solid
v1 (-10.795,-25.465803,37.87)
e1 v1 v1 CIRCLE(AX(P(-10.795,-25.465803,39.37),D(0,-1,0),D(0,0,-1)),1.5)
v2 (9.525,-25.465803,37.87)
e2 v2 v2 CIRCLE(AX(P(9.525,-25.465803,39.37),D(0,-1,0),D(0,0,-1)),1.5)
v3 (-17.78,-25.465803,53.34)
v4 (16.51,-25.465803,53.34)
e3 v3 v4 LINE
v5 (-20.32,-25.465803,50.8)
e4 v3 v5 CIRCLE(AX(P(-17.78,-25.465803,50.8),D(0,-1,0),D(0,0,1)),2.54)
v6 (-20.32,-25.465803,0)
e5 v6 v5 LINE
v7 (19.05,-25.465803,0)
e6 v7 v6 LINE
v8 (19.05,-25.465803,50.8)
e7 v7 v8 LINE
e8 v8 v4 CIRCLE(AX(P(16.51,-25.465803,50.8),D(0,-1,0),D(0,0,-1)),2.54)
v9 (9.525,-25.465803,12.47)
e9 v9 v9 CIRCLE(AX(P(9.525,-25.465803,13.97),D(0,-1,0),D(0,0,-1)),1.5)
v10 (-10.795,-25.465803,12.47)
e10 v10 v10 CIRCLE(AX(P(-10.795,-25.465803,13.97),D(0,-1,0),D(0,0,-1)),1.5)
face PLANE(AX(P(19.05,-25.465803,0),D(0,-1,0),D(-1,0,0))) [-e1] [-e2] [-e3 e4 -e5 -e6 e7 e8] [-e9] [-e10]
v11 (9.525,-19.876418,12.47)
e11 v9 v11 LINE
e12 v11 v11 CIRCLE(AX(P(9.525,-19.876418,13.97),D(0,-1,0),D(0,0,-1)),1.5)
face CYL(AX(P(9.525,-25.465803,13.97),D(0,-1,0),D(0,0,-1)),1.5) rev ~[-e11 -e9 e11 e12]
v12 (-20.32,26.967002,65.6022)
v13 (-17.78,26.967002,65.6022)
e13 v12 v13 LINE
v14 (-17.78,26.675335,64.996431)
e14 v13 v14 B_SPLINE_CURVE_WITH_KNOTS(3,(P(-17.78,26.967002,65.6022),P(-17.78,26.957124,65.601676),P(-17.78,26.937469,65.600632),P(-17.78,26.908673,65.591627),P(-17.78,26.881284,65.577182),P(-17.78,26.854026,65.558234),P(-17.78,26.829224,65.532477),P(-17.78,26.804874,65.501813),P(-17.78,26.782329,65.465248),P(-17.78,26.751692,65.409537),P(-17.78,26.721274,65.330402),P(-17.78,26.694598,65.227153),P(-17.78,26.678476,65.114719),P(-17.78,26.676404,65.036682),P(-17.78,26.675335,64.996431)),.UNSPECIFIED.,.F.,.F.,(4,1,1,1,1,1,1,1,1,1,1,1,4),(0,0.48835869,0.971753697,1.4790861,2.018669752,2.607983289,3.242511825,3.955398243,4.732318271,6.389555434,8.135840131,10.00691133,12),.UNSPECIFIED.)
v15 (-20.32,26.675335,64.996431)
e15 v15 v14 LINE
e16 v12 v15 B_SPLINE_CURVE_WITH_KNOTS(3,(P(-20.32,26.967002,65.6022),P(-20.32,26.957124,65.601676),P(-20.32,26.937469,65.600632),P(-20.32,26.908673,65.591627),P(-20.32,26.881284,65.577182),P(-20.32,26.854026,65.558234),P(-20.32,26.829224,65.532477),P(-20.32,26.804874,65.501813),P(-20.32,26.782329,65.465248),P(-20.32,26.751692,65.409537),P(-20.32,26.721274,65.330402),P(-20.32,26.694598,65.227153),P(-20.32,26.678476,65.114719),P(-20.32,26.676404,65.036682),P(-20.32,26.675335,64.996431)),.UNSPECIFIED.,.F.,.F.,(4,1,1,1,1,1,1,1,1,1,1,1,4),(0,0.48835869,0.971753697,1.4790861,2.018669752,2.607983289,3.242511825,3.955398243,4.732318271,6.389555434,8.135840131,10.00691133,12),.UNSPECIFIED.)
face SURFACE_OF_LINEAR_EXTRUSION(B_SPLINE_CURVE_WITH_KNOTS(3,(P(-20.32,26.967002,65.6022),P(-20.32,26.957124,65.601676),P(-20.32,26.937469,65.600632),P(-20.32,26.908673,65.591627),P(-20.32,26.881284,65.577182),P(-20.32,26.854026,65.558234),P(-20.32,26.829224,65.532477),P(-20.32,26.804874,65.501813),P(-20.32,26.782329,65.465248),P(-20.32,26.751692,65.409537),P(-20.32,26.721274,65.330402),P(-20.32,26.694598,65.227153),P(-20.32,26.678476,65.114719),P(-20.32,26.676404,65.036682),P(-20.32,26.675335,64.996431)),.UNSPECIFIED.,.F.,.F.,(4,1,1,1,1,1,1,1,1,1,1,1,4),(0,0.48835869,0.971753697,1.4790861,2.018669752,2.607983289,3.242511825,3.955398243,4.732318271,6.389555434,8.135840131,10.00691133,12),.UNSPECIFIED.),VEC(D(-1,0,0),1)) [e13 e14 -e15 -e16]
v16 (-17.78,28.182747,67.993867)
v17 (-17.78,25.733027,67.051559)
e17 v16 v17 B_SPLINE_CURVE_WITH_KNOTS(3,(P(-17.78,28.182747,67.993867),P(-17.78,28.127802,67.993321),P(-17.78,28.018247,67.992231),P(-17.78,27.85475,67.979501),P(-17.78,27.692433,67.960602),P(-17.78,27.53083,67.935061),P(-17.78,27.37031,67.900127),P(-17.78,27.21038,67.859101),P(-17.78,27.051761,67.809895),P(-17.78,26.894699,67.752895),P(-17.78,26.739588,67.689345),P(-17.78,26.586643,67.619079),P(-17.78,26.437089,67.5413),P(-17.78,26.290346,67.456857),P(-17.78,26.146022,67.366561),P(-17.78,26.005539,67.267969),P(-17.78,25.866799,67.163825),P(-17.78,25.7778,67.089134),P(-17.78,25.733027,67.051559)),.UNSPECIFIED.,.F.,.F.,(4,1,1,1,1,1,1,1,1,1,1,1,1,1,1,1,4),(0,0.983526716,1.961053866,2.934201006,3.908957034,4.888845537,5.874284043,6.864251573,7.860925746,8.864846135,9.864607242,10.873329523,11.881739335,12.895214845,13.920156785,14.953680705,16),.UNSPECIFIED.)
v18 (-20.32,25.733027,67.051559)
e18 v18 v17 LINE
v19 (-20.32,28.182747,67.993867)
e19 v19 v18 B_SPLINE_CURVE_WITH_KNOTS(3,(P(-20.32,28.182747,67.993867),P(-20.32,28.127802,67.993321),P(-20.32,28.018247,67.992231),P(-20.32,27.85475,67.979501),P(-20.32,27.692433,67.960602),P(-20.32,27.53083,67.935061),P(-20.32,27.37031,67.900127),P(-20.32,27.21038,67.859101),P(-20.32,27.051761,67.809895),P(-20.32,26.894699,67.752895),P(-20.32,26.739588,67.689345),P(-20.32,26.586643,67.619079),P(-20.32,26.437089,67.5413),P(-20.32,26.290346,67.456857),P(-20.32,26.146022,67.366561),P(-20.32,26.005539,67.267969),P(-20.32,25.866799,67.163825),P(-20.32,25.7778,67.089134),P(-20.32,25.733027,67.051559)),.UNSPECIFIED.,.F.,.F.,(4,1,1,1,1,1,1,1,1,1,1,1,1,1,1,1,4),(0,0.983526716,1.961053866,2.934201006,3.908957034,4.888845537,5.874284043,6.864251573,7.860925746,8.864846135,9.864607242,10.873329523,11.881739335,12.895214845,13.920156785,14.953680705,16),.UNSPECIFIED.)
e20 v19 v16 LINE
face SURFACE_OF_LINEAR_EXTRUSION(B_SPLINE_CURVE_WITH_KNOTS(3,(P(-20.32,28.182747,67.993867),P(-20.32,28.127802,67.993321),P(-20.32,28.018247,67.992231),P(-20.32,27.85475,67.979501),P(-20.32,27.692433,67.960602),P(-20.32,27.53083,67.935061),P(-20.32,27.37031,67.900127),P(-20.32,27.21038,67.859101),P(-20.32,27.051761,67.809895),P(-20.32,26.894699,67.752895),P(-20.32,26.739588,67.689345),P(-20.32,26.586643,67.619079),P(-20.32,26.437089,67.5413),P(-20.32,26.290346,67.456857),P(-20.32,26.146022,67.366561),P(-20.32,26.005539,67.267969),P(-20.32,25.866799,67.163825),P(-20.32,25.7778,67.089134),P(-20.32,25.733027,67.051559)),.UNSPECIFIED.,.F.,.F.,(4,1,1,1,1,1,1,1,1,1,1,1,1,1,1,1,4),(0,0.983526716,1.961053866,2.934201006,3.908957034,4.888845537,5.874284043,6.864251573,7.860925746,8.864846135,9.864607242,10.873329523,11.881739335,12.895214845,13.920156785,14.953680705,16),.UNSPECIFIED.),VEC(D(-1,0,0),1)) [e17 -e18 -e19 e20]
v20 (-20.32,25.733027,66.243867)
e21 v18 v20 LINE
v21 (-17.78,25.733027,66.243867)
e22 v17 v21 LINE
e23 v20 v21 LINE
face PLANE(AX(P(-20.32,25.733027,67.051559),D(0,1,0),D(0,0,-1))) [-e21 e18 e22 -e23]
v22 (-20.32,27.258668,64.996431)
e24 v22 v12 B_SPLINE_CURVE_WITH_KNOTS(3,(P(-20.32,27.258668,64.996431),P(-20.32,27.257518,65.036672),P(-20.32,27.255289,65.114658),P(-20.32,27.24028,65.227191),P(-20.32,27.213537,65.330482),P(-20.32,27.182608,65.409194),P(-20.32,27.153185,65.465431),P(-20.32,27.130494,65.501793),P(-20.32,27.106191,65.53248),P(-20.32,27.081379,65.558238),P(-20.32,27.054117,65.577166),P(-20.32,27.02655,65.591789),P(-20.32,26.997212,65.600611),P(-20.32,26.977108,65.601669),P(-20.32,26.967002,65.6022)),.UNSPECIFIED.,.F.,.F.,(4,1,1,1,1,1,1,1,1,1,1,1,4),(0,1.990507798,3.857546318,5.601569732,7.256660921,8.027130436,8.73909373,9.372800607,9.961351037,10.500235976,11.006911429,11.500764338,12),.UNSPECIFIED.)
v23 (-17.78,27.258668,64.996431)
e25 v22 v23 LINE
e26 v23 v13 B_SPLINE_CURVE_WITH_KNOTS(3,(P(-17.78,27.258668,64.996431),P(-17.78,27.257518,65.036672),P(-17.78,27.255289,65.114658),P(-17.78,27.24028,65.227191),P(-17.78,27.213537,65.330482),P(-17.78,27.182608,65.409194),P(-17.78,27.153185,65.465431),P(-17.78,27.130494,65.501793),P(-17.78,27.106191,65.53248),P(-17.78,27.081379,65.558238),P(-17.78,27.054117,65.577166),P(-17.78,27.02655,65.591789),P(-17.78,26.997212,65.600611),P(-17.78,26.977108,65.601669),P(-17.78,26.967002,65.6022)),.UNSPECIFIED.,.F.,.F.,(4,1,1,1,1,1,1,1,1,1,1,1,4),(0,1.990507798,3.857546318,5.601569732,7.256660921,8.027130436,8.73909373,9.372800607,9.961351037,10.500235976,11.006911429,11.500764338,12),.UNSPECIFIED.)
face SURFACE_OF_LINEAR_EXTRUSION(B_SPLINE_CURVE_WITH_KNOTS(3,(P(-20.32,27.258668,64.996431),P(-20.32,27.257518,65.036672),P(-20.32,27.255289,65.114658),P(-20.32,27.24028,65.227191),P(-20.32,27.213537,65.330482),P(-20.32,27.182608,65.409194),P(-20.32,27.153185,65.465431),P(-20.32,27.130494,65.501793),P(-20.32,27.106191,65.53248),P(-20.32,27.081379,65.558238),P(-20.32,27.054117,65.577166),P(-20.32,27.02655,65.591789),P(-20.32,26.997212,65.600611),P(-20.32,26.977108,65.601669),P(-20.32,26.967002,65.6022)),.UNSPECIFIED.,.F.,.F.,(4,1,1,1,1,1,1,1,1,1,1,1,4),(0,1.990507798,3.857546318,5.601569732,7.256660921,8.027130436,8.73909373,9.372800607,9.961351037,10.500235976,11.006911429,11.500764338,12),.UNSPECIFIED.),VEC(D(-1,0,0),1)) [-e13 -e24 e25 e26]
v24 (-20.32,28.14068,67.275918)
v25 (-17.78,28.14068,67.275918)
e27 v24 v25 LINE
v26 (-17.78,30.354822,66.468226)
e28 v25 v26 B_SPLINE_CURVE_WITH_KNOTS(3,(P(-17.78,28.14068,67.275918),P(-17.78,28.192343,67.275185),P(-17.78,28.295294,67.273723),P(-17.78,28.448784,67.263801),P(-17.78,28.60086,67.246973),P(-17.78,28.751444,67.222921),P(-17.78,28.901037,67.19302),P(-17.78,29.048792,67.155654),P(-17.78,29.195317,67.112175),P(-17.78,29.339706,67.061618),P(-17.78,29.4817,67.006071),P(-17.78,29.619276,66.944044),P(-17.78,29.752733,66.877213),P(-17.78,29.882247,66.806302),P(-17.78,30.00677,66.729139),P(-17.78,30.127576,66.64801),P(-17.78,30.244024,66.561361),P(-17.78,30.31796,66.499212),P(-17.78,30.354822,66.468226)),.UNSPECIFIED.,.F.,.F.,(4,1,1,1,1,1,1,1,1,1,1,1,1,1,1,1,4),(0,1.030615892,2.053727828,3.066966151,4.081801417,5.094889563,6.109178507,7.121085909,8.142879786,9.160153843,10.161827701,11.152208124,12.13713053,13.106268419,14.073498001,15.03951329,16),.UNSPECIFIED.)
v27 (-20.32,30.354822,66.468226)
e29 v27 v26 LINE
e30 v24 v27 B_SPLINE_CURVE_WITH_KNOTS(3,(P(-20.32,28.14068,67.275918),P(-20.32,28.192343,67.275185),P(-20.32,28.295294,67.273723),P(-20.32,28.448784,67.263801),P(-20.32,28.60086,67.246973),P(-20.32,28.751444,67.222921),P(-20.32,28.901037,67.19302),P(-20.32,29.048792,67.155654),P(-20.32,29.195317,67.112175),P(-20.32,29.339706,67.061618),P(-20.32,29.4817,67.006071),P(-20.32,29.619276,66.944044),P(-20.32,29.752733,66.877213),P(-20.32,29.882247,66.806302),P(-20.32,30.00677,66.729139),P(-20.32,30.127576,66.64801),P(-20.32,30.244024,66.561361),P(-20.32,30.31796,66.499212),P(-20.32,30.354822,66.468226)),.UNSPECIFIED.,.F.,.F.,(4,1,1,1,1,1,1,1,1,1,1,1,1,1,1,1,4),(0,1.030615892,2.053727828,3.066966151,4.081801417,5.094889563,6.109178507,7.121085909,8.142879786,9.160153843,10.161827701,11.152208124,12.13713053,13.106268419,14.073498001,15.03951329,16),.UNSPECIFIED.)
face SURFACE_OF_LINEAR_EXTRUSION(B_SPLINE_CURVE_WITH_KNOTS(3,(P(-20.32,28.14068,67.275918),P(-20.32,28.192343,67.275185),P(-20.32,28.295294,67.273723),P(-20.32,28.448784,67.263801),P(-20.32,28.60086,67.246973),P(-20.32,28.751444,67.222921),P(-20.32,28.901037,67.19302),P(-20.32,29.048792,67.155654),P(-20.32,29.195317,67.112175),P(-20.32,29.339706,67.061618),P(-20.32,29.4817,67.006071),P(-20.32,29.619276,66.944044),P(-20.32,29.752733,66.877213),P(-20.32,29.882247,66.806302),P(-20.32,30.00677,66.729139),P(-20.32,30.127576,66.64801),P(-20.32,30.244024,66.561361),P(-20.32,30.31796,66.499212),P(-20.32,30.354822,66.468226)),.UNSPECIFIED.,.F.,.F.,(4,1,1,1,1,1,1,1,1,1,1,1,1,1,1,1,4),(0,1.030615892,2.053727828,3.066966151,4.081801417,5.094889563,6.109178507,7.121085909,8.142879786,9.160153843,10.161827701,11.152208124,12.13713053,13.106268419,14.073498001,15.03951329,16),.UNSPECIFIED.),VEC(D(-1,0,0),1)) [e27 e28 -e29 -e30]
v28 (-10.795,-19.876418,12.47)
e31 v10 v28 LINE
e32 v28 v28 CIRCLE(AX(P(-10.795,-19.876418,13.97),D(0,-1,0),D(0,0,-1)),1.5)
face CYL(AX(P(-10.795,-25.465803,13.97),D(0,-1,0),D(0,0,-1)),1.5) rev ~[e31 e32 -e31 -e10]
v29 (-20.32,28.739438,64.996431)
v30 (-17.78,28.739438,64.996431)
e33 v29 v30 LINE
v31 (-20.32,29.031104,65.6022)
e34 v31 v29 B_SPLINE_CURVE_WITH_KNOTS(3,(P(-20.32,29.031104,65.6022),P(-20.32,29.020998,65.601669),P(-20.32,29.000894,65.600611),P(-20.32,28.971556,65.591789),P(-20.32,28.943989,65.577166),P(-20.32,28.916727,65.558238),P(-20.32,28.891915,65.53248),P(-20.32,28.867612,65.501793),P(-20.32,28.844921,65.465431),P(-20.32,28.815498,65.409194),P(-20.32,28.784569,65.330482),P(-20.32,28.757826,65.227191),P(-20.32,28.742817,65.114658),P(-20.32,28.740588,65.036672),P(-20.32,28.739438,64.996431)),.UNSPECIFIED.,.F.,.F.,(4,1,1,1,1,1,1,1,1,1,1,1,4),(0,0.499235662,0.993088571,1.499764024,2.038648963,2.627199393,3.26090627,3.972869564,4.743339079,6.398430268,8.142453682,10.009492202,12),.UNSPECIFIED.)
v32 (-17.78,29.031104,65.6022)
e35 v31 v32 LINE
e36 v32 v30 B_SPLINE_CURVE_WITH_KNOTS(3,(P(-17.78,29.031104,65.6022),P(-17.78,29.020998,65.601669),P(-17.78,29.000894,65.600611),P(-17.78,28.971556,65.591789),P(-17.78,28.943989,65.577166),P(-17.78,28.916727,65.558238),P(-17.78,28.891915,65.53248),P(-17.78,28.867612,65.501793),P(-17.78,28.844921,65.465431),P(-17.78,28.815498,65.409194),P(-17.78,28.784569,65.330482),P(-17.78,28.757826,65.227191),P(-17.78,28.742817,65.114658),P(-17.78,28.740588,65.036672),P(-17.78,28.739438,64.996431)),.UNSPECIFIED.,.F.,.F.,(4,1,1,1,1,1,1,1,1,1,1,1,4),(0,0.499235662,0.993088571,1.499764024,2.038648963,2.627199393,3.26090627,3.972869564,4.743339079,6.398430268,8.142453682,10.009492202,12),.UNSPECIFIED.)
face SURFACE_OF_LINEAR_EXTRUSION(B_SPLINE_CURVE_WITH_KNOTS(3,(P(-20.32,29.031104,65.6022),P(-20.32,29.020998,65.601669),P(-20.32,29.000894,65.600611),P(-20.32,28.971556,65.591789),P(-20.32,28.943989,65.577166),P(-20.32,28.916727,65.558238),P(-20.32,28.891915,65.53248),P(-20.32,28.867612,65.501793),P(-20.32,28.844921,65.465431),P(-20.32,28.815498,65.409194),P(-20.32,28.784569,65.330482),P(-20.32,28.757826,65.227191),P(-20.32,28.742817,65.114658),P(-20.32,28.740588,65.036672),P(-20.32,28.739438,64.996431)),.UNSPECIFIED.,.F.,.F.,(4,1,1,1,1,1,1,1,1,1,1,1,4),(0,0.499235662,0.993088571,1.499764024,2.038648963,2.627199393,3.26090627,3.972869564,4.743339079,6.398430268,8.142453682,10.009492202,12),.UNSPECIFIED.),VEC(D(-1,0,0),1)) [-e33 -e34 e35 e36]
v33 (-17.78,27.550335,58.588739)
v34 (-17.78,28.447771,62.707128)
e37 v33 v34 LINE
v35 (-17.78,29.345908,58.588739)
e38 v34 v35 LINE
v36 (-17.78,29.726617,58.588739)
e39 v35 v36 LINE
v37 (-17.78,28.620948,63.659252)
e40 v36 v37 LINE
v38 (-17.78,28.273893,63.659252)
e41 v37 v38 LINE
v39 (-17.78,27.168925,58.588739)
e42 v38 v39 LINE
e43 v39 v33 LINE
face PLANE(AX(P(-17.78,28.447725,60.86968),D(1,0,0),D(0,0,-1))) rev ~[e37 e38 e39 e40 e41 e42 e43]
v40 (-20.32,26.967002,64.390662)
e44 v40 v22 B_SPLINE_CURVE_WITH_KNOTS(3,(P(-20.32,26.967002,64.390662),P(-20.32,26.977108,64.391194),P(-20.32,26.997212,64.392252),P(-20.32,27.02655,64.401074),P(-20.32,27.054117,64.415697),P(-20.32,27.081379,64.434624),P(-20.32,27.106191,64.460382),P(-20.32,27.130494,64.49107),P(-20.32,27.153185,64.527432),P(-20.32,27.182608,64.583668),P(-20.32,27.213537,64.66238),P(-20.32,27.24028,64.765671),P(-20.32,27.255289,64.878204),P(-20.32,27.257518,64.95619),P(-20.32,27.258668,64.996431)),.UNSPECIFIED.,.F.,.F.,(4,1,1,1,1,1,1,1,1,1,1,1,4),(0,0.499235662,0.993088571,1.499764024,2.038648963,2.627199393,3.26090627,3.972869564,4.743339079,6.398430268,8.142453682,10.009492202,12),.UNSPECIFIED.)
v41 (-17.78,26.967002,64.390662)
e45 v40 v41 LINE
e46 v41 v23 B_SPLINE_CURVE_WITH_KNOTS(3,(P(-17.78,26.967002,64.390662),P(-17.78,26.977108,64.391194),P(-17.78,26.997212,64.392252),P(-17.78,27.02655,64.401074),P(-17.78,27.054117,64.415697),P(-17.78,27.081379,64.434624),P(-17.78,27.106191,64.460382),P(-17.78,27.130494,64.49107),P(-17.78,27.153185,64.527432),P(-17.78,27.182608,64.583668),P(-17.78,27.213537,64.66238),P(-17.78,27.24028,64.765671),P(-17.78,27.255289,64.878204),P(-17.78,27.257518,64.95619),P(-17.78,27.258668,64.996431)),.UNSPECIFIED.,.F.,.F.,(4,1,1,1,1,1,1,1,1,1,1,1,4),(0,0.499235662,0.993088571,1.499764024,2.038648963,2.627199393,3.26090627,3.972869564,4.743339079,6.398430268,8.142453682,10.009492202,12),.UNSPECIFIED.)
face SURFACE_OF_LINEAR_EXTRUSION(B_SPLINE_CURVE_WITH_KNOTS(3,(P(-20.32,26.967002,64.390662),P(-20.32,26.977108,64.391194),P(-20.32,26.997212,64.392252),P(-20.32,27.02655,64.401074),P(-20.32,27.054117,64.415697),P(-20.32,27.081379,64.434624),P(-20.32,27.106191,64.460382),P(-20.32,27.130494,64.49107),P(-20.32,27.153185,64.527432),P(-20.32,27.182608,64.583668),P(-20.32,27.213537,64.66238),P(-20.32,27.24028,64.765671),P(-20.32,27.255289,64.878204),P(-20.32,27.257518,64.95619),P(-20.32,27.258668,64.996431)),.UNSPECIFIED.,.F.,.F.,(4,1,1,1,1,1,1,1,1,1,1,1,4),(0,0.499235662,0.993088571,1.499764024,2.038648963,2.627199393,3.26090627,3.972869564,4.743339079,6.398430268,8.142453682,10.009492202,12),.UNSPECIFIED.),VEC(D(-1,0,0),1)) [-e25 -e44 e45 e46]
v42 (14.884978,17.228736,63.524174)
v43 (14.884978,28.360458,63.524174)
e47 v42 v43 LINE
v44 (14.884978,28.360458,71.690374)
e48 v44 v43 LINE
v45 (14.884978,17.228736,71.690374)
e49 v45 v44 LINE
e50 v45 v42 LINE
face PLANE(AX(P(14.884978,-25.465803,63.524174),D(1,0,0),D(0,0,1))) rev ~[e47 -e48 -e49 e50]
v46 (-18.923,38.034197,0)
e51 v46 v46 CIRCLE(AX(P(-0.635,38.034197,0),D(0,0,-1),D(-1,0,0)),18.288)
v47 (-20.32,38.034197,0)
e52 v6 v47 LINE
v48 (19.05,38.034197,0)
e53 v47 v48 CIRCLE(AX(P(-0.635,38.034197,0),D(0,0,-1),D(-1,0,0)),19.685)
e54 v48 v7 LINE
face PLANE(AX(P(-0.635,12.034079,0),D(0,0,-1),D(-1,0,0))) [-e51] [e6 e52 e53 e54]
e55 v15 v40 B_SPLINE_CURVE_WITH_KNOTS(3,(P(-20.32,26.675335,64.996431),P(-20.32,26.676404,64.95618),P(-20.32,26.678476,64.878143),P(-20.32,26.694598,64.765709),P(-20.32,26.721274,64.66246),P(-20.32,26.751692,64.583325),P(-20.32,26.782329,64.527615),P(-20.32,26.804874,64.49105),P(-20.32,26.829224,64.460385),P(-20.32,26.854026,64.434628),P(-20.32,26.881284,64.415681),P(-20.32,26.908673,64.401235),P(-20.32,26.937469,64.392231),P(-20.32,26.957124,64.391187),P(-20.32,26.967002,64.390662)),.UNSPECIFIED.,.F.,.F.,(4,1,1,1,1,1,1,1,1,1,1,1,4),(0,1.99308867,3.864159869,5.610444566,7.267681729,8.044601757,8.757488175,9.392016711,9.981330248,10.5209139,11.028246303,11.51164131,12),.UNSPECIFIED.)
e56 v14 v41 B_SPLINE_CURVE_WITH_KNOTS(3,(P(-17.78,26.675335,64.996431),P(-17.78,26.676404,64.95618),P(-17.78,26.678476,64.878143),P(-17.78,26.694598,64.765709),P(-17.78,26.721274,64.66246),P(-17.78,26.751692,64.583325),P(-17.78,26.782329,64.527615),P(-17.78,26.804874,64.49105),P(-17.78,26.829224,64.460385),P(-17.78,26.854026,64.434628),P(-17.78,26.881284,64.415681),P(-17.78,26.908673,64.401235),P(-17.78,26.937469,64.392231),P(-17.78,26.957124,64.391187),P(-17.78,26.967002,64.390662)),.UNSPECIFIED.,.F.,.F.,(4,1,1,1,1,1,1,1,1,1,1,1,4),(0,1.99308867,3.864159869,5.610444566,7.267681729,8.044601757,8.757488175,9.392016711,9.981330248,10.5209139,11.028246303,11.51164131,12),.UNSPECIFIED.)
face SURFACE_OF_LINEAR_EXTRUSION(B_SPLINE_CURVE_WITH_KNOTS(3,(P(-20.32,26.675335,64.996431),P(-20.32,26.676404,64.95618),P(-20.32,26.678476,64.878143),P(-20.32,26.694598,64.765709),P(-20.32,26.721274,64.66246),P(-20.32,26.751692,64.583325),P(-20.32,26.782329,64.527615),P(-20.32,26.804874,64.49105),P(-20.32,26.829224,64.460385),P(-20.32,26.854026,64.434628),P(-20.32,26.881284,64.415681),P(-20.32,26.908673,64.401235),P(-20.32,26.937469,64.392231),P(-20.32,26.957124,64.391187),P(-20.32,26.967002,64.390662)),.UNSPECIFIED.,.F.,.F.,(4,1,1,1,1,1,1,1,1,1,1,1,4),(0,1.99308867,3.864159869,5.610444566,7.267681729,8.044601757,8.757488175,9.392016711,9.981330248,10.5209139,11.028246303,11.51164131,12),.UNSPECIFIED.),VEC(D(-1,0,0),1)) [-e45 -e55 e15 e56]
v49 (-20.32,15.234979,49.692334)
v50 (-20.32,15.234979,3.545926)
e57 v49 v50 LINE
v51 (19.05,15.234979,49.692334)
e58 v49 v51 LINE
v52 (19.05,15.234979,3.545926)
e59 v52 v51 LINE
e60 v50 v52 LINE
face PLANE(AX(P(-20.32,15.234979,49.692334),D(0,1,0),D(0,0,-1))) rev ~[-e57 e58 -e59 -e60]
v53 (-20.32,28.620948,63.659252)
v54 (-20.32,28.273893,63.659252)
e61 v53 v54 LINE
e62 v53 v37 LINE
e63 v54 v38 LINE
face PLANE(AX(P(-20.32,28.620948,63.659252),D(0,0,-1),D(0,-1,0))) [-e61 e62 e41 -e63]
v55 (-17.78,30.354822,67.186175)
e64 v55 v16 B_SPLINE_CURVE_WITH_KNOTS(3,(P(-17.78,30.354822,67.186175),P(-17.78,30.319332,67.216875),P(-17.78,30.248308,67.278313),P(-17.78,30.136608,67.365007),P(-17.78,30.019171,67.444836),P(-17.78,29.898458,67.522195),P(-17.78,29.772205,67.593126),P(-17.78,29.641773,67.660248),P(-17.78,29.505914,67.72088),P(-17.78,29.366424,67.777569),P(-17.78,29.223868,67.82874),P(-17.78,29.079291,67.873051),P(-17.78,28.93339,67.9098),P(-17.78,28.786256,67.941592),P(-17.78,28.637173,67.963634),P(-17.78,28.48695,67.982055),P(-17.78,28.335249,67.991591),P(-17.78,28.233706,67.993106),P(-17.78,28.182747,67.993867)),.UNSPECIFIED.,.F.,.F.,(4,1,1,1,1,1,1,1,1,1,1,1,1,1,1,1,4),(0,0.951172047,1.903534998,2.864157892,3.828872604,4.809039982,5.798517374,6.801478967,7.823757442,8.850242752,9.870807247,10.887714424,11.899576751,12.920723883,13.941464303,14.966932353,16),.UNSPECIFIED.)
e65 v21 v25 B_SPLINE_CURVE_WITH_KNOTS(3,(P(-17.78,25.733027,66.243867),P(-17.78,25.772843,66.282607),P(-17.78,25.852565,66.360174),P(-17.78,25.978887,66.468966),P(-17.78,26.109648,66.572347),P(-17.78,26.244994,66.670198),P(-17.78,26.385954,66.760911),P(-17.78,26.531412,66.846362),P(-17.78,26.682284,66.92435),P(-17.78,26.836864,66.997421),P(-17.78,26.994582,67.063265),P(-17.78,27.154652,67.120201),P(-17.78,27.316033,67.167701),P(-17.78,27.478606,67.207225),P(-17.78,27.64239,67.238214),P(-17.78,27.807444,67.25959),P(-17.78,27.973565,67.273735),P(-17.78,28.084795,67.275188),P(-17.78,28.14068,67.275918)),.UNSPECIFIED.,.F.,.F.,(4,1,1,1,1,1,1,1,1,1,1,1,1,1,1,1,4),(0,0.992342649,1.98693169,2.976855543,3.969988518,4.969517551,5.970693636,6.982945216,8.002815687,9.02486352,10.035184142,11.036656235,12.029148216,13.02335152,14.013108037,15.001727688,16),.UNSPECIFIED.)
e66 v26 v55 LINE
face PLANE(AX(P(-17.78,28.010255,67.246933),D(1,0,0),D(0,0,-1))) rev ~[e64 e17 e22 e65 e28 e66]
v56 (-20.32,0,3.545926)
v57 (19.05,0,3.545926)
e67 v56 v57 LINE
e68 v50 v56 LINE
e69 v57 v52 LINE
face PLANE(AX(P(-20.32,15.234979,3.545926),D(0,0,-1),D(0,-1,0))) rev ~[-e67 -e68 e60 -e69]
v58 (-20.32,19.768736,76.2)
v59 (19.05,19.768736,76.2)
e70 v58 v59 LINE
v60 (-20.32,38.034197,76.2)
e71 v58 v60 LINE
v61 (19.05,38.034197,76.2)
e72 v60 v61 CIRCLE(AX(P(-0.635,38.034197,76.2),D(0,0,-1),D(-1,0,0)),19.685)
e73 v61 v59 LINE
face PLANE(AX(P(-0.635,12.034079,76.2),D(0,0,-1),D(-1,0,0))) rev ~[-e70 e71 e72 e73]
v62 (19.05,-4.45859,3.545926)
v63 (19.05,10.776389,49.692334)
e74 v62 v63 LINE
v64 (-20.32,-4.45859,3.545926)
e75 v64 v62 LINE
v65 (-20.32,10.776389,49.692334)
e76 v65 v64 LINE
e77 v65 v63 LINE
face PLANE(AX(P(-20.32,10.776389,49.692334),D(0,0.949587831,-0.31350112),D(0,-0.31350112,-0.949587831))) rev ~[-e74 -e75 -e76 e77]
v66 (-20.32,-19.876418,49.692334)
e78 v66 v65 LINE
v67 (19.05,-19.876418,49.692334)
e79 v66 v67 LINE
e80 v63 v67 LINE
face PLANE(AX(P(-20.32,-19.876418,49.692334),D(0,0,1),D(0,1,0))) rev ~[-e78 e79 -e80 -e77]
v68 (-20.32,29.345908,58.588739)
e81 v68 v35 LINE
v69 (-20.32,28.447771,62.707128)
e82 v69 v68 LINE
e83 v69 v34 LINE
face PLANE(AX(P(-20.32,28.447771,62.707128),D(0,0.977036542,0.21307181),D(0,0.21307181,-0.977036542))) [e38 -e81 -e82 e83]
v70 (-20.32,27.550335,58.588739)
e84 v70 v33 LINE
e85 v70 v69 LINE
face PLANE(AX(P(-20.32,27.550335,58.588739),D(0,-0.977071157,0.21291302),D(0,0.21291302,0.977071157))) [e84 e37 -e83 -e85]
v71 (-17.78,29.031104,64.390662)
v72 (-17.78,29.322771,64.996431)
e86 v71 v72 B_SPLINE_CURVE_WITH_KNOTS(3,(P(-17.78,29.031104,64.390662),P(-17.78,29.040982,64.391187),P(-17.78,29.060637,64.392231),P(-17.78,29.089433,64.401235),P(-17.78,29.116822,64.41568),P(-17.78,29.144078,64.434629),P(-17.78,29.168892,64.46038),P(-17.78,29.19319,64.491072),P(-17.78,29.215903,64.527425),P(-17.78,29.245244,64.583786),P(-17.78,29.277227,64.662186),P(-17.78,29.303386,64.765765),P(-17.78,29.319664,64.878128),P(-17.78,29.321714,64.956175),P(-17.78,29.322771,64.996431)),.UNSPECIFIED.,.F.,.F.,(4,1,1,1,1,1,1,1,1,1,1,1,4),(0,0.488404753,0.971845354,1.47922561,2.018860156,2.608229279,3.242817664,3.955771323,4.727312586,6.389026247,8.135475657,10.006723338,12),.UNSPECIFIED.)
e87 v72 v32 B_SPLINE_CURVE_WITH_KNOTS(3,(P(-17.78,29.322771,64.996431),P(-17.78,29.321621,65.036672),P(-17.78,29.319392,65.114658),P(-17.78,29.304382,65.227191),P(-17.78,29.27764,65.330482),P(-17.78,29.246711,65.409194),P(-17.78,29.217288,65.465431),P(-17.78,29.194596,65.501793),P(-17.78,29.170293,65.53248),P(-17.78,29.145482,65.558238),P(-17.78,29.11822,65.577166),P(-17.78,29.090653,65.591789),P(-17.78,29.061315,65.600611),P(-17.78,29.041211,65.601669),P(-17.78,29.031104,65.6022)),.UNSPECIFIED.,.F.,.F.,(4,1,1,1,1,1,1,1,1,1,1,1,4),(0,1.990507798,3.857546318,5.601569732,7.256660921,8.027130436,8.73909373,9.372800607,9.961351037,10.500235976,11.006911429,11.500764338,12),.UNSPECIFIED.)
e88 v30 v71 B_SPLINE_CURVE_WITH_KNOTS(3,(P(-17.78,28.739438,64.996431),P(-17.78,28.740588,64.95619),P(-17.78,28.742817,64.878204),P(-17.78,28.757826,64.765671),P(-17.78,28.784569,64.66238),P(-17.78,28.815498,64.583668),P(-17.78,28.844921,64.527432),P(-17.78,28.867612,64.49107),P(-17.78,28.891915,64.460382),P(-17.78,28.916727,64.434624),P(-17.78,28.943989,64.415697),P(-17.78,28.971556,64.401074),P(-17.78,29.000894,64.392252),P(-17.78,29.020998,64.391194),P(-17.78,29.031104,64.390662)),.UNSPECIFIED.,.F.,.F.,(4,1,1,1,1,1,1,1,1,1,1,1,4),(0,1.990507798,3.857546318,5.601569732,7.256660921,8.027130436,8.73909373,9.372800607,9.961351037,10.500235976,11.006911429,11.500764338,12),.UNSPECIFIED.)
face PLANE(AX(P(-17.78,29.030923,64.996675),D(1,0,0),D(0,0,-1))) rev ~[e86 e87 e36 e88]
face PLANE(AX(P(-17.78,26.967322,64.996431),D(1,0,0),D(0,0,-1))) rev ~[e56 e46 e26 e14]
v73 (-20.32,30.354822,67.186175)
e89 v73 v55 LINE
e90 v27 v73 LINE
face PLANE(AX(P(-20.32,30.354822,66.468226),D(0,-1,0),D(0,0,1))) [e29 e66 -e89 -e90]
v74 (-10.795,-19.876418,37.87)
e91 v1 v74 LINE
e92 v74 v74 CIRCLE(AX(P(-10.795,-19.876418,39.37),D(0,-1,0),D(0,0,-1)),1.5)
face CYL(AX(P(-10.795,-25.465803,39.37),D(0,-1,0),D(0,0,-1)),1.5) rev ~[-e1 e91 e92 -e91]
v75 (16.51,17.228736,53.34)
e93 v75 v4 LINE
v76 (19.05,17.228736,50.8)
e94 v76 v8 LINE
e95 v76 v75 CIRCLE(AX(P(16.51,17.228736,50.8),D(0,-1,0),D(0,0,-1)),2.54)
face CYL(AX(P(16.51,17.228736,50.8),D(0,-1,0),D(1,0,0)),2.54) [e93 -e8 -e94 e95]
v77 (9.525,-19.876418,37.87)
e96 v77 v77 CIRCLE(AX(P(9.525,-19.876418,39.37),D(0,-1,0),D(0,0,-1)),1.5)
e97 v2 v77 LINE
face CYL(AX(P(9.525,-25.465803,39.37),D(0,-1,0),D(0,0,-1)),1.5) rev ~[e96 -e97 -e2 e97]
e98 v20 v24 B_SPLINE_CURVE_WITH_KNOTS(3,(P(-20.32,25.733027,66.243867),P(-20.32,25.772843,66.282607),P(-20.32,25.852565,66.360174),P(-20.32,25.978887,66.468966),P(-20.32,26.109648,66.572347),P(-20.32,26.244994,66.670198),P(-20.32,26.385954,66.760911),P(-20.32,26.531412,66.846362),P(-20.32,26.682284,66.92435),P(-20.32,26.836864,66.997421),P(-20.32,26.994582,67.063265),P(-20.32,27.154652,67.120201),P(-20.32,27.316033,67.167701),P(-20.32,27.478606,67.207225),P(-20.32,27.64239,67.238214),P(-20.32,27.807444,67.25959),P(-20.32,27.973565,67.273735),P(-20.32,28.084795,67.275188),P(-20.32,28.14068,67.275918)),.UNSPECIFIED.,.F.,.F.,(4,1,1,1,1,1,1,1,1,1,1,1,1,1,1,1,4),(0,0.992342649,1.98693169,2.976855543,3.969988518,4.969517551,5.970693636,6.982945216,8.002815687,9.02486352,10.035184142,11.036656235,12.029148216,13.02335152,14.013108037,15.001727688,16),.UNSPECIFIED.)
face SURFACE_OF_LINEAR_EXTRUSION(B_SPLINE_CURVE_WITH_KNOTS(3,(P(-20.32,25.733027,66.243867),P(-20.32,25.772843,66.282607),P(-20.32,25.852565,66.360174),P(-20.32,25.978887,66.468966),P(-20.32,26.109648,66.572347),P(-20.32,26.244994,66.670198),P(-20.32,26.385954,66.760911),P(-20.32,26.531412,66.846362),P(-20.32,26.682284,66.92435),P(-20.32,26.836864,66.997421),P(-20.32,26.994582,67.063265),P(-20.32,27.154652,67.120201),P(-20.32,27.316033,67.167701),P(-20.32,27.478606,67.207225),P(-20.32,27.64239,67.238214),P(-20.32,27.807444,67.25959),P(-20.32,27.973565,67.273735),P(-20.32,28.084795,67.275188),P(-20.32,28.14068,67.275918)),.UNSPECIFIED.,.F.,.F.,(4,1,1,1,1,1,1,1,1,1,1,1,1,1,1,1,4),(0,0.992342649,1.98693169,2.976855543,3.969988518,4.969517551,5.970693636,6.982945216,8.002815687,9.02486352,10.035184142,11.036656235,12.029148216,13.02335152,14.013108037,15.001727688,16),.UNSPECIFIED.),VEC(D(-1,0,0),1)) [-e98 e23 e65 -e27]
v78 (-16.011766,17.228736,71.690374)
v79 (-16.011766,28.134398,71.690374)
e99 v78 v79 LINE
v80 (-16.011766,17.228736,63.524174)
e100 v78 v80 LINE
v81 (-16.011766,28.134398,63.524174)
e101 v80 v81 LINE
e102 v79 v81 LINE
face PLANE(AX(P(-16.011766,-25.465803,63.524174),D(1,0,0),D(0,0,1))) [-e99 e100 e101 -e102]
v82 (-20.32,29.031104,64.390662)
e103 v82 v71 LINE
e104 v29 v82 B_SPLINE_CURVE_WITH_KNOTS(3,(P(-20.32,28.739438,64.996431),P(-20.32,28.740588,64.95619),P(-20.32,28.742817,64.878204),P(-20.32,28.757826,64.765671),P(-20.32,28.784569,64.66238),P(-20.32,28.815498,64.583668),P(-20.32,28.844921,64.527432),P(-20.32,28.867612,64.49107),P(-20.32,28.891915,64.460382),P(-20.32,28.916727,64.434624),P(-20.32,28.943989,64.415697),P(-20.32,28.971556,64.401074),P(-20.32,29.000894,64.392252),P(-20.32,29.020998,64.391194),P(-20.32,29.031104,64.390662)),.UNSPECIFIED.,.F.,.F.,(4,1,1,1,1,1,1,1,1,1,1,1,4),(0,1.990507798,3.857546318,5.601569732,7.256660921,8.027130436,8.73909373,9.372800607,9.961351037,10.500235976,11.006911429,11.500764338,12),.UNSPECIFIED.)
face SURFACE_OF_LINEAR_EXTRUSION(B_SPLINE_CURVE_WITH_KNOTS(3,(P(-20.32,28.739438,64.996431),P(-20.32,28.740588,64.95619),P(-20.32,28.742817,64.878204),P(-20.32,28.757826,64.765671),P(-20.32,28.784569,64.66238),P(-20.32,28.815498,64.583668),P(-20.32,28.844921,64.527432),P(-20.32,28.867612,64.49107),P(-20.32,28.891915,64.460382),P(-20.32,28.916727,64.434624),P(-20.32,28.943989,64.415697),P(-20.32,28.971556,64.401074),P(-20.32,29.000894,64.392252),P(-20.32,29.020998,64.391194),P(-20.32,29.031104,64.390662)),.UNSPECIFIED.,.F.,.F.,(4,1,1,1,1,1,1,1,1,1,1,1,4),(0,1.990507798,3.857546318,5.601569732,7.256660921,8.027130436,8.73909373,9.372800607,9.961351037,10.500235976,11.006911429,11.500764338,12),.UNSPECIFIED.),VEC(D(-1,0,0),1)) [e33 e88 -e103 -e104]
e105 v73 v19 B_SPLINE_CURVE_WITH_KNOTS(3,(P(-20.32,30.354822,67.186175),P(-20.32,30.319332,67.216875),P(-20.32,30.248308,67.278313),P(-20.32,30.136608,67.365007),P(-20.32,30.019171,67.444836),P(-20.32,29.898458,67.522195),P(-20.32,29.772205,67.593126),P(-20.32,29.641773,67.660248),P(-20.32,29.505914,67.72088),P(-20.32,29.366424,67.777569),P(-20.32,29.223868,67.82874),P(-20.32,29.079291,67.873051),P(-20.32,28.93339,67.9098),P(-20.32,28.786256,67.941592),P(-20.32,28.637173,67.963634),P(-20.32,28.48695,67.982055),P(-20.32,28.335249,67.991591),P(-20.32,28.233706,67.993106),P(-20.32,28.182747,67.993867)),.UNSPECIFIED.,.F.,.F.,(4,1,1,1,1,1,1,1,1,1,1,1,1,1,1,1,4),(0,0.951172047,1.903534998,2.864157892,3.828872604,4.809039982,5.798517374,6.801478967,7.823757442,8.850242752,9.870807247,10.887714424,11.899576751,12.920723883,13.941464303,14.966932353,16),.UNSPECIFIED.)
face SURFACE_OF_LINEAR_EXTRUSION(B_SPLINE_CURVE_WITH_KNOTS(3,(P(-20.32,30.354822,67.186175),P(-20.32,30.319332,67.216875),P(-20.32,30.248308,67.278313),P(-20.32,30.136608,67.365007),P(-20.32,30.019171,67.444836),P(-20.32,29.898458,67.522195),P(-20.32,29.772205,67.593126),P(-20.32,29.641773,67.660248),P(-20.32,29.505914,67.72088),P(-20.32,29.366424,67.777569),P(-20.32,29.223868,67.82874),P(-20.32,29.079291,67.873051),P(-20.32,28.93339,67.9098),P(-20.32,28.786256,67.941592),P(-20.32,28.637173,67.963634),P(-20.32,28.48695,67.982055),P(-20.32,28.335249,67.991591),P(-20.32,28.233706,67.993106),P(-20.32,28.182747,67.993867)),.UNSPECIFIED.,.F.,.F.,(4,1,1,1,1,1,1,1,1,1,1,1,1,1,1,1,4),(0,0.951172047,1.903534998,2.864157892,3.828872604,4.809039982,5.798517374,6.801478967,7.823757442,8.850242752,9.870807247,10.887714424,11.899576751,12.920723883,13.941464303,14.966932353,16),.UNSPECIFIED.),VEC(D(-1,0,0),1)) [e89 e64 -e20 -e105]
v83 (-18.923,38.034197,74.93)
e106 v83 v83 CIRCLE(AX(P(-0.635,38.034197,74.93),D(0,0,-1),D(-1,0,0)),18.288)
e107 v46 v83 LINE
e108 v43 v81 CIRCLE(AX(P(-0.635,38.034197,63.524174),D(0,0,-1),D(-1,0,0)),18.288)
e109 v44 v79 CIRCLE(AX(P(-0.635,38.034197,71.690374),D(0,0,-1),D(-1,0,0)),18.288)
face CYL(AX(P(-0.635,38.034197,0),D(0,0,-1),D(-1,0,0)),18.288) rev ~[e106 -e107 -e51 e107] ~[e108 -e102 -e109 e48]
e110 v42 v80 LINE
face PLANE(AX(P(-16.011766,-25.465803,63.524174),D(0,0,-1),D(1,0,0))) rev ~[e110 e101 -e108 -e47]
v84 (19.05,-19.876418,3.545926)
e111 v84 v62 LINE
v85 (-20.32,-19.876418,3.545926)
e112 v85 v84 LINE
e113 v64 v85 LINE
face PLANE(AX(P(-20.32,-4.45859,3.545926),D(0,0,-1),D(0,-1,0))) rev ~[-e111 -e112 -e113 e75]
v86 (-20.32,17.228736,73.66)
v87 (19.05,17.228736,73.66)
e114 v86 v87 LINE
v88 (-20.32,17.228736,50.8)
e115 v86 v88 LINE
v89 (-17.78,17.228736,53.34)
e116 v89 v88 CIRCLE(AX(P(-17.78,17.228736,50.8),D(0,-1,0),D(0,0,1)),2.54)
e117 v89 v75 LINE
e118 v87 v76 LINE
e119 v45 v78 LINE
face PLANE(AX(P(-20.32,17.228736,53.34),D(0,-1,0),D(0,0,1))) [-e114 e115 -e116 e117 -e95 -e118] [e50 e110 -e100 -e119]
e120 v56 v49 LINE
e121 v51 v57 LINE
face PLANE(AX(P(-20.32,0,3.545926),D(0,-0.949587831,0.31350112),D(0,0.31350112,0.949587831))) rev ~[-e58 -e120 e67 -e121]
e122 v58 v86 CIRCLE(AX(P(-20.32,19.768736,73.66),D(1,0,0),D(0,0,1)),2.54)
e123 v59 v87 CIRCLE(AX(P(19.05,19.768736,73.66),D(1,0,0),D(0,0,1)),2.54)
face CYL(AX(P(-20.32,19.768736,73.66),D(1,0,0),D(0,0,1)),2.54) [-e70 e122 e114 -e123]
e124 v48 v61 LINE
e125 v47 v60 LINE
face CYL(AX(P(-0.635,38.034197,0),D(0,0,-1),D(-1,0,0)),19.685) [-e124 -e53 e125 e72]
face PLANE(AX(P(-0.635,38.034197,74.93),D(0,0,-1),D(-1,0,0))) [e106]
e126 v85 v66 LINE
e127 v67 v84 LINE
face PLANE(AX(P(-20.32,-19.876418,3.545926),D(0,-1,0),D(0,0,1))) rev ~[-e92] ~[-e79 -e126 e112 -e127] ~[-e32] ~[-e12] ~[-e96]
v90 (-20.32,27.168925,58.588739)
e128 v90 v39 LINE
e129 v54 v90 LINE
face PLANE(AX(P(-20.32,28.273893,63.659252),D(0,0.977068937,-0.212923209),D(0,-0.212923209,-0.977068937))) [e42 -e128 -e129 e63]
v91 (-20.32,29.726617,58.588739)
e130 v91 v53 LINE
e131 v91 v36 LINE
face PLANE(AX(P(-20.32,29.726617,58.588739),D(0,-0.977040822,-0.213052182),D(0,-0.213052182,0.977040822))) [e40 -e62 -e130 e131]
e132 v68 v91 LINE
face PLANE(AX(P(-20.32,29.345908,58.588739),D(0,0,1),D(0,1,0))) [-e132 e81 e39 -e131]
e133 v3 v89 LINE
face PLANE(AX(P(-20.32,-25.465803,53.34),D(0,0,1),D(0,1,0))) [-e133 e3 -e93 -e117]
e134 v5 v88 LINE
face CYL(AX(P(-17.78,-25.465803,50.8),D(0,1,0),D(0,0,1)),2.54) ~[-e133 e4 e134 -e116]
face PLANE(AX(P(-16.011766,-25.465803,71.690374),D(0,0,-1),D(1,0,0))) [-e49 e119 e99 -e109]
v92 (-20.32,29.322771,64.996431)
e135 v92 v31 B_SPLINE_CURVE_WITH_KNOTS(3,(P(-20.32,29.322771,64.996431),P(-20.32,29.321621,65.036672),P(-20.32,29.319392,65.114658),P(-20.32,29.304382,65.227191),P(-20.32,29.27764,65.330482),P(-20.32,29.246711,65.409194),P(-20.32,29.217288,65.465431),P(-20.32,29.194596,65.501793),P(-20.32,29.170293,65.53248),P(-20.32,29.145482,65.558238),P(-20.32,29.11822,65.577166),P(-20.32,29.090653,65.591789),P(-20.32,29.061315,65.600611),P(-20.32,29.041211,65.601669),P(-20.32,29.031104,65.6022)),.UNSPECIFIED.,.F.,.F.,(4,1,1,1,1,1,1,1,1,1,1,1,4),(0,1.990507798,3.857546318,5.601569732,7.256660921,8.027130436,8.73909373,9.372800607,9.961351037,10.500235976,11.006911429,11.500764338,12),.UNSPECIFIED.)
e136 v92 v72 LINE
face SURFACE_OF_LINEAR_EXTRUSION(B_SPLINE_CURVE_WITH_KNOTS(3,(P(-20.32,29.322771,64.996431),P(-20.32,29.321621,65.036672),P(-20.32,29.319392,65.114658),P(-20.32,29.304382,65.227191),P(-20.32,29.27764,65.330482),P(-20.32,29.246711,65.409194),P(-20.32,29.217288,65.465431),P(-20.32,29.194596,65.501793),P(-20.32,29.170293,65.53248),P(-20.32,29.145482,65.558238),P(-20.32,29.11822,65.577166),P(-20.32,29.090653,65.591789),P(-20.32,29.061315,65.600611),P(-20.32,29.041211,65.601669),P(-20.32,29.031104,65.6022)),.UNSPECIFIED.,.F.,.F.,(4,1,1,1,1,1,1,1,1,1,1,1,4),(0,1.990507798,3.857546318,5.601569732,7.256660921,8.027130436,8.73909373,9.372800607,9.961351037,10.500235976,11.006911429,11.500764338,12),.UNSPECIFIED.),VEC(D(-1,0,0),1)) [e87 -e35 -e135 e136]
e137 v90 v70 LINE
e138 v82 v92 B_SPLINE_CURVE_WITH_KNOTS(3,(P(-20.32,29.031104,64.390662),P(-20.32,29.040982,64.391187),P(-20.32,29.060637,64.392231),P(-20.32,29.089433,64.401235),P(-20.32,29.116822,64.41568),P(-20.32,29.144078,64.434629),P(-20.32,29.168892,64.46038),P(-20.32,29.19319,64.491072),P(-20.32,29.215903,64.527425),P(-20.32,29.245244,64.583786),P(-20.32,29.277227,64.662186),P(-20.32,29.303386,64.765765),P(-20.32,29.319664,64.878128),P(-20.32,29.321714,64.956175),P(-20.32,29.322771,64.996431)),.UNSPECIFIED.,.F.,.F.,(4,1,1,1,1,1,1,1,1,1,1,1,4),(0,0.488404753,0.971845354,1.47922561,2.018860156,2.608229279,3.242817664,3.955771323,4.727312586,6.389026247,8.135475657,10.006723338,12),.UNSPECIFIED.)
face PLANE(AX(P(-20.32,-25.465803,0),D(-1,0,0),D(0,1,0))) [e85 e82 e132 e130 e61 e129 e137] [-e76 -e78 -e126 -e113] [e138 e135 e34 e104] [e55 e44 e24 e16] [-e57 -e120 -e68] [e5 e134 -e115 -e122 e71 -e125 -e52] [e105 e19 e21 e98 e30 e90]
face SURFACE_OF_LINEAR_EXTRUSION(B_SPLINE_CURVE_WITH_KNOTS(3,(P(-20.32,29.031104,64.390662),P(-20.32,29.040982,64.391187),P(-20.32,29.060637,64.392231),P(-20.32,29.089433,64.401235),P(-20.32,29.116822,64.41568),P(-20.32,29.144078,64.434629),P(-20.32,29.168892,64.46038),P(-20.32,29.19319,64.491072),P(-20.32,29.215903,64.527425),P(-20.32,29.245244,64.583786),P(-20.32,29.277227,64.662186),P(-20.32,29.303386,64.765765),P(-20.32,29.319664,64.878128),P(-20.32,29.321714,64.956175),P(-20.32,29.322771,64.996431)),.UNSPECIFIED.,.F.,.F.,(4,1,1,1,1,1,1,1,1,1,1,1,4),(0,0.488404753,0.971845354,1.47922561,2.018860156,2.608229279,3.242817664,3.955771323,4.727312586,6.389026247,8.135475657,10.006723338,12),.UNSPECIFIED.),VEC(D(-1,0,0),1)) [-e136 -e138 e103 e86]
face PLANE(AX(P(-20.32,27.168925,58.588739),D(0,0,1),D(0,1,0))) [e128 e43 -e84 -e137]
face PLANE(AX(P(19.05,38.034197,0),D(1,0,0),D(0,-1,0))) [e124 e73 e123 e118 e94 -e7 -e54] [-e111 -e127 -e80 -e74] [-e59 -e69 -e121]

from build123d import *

# Parameters (mm, degrees)
BOSS_EXTRUDE1_DEPTH = 76.2
SKETCH2_R           = 18.288
CUT_EXTRUDE1_DEPTH  = 74.93
SKETCH3_W           = 30.896743612
SKETCH3_H           = 8.166199328
CUT_EXTRUDE2_DEPTH  = 55.372
SKETCH5_W           = 22.86
SKETCH5_H           = 42.694539366
CUT_EXTRUDE4_DEPTH  = 55.372
CUT_EXTRUDE5_DEPTH  = 55.372
SKETCH7_R           = 1.5
CUT_EXTRUDE6_DEPTH  = 7.62
FILLET1_R           = 2.54
FILLET2_R           = 2.54
CUT_EXTRUDE7_DEPTH  = 2.54


with BuildPart() as part:
    # Sketch1 → Boss-Extrude1 (new body)
    with BuildSketch(Plane.XY):
        with BuildLine():
            Line((19.05, 38.034196891), (19.05, -25.465803109))
            Line((19.05, -25.465803109), (-20.32, -25.465803109))
            Line((-20.32, -25.465803109), (-20.32, 38.034196891))
            ThreePointArc((-20.32, 38.034196891), (-0.635, 57.719196891), (19.05, 38.034196891))
        make_face()
    extrude(amount=BOSS_EXTRUDE1_DEPTH)

    # Sketch2 → Cut-Extrude1 (cut)
    with BuildSketch(Plane(origin=(0, 0, 0), x_dir=(-1, 0, 0), z_dir=(0, 0, -1))):
        with Locations((0.635, 38.034196891)):
            Circle(SKETCH2_R)
    extrude(amount=-CUT_EXTRUDE1_DEPTH, mode=Mode.SUBTRACT)

    # Sketch3 → Cut-Extrude2 (cut)
    with BuildSketch(Plane.XZ.offset(25.465803109)):
        with Locations((-0.563393949, 67.607273916)):
            Rectangle(SKETCH3_W, SKETCH3_H)
    extrude(amount=-CUT_EXTRUDE2_DEPTH, mode=Mode.SUBTRACT)

    # Sketch5 → Cut-Extrude4 (cut)
    with BuildSketch(Plane.ZY.offset(20.32)):
        with Locations((64.77, -4.118533426)):
            Rectangle(SKETCH5_W, SKETCH5_H)
    extrude(amount=-CUT_EXTRUDE4_DEPTH, mode=Mode.SUBTRACT)

    # Sketch6 → Cut-Extrude5 (cut)
    with BuildSketch(Plane.ZY.offset(20.32)):
        Polygon((49.692334338, 15.234978865), (3.545926494, 15.234978865), (3.545926494, 0), align=None)
        Polygon((49.692334338, 10.776388735), (3.545926494, -4.45859013), (3.545926494, -19.876418407), (49.692334338, -19.876418407), align=None)
    extrude(amount=-CUT_EXTRUDE5_DEPTH, mode=Mode.SUBTRACT)

    # Sketch7 → Cut-Extrude6 (cut)
    with BuildSketch(Plane(origin=(0, -25.465803109, 0), x_dir=(-1, 0, 0), z_dir=(0, -1, 0))):
        with Locations((10.795, -13.97)):
            Circle(SKETCH7_R)
        with Locations((10.795, -39.37)):
            Circle(SKETCH7_R)
        with Locations((-9.525, -13.97)):
            Circle(SKETCH7_R)
        with Locations((-9.525, -39.37)):
            Circle(SKETCH7_R)
    extrude(amount=-CUT_EXTRUDE6_DEPTH, mode=Mode.SUBTRACT)

    # Fillet1
    fillet1_edges = [part.edges().sort_by_distance(p)[0] for p in [
        (-0.635, 17.228736257, 76.2),
    ]]
    fillet(fillet1_edges, radius=FILLET1_R)

    # Fillet2
    fillet2_edges = [part.edges().sort_by_distance(p)[0] for p in [
        (19.05, -4.118533426, 53.34),
        (-20.32, -4.118533426, 53.34),
    ]]
    fillet(fillet2_edges, radius=FILLET2_R)

    # Sketch8 → Cut-Extrude7 (cut)
    with BuildSketch(Plane.ZY.offset(20.32)):
        Polygon((58.58873891, 27.55033505), (62.707128333, 28.447770947), (58.58873891, 29.345907966), (58.58873891, 29.726617101), (63.65925173, 28.62094803), (63.65925173, 28.273892742), (58.58873891, 27.168924793), align=None)
        with BuildLine():
            add(Edge.make_bspline(
                [(64.996431217, 29.322770947), (65.036672351, 29.321620871), (65.114658498, 29.319392057), (65.227191282, 29.304382374), (65.330482027, 29.277639856), (65.409194262, 29.246710575), (65.46543075, 29.217287823), (65.501792779, 29.194596329), (65.532480318, 29.170293168), (65.558238335, 29.145481874), (65.577165676, 29.118219683), (65.591788765, 29.090652513), (65.600610557, 29.061314813), (65.601668573, 29.041210781), (65.602200448, 29.03110428)],
                knots=[0, 0, 0, 0, 1.990507798, 3.857546318, 5.601569732, 7.256660921, 8.027130436, 8.73909373, 9.372800607, 9.961351037, 10.500235976, 11.006911429, 11.500764338, 12, 12, 12, 12], degree=3))
            add(Edge.make_bspline(
                [(65.602200448, 29.03110428), (65.601668573, 29.02099778), (65.600610557, 29.000893748), (65.591788765, 28.971556048), (65.577165676, 28.943988878), (65.558238335, 28.916726687), (65.532480318, 28.891915393), (65.501792779, 28.867612232), (65.46543075, 28.844920738), (65.409194262, 28.815497986), (65.330482027, 28.784568705), (65.227191282, 28.757826187), (65.114658498, 28.742816503), (65.036672351, 28.74058769), (64.996431217, 28.739437614)],
                knots=[0, 0, 0, 0, 0.499235662, 0.993088571, 1.499764024, 2.038648963, 2.627199393, 3.26090627, 3.972869564, 4.743339079, 6.398430268, 8.142453682, 10.009492202, 12, 12, 12, 12], degree=3))
            add(Edge.make_bspline(
                [(64.996431217, 28.739437614), (64.956190084, 28.74058769), (64.878203937, 28.742816503), (64.765671153, 28.757826187), (64.662380408, 28.784568705), (64.583668173, 28.815497986), (64.527431685, 28.844920738), (64.491069656, 28.867612232), (64.460382117, 28.891915393), (64.4346241, 28.916726687), (64.415696759, 28.943988878), (64.401073669, 28.971556048), (64.392251878, 29.000893748), (64.391193862, 29.02099778), (64.390661987, 29.03110428)],
                knots=[0, 0, 0, 0, 1.990507798, 3.857546318, 5.601569732, 7.256660921, 8.027130436, 8.73909373, 9.372800607, 9.961351037, 10.500235976, 11.006911429, 11.500764338, 12, 12, 12, 12], degree=3))
            add(Edge.make_bspline(
                [(64.390661987, 29.03110428), (64.391186666, 29.040981967), (64.392230692, 29.060636942), (64.401235197, 29.089432768), (64.415680324, 29.116822155), (64.434629148, 29.144078002), (64.460380267, 29.168892275), (64.491071648, 29.193190012), (64.52742486, 29.215902902), (64.583786055, 29.245244148), (64.662185902, 29.277227081), (64.765764853, 29.303386129), (64.878127586, 29.319664025), (64.956175178, 29.321713732), (64.996431217, 29.322770947)],
                knots=[0, 0, 0, 0, 0.488404753, 0.971845354, 1.47922561, 2.018860156, 2.608229279, 3.242817664, 3.955771323, 4.727312586, 6.389026247, 8.135475657, 10.006723338, 12, 12, 12, 12], degree=3))
        make_face()
        with BuildLine():
            add(Edge.make_bspline(
                [(64.996431217, 27.258668383), (65.036672351, 27.257518307), (65.114658498, 27.255289493), (65.227191282, 27.24027981), (65.330482027, 27.213537292), (65.409194262, 27.182608011), (65.46543075, 27.153185259), (65.501792779, 27.130493765), (65.532480318, 27.106190604), (65.558238335, 27.08137931), (65.577165676, 27.054117119), (65.591788765, 27.026549949), (65.600610557, 26.997212248), (65.601668573, 26.977108216), (65.602200448, 26.967001716)],
                knots=[0, 0, 0, 0, 1.990507798, 3.857546318, 5.601569732, 7.256660921, 8.027130436, 8.73909373, 9.372800607, 9.961351037, 10.500235976, 11.006911429, 11.500764338, 12, 12, 12, 12], degree=3))
            add(Edge.make_bspline(
                [(65.602200448, 26.967001716), (65.601675763, 26.957124042), (65.600631725, 26.937469089), (65.59162731, 26.908673091), (65.577181819, 26.881284401), (65.558234499, 26.854025675), (65.532477027, 26.829223563), (65.501812643, 26.804874143), (65.465247899, 26.782328727), (65.409537026, 26.751692384), (65.330402294, 26.721274107), (65.227153238, 26.694597501), (65.114719446, 26.678475837), (65.036682016, 26.676403788), (64.996431217, 26.67533505)],
                knots=[0, 0, 0, 0, 0.48835869, 0.971753697, 1.4790861, 2.018669752, 2.607983289, 3.242511825, 3.955398243, 4.732318271, 6.389555434, 8.135840131, 10.00691133, 12, 12, 12, 12], degree=3))
            add(Edge.make_bspline(
                [(64.996431217, 26.67533505), (64.956180419, 26.676403788), (64.878142989, 26.678475837), (64.765709197, 26.694597501), (64.662460141, 26.721274107), (64.583325409, 26.751692384), (64.527614536, 26.782328727), (64.491049792, 26.804874143), (64.460385408, 26.829223563), (64.434627936, 26.854025675), (64.415680616, 26.881284401), (64.401235125, 26.908673091), (64.39223071, 26.937469089), (64.391186672, 26.957124042), (64.390661987, 26.967001716)],
                knots=[0, 0, 0, 0, 1.99308867, 3.864159869, 5.610444566, 7.267681729, 8.044601757, 8.757488175, 9.392016711, 9.981330248, 10.5209139, 11.028246303, 11.51164131, 12, 12, 12, 12], degree=3))
            add(Edge.make_bspline(
                [(64.390661987, 26.967001716), (64.391193862, 26.977108216), (64.392251878, 26.997212248), (64.401073669, 27.026549949), (64.415696759, 27.054117119), (64.4346241, 27.08137931), (64.460382117, 27.106190604), (64.491069656, 27.130493765), (64.527431685, 27.153185259), (64.583668173, 27.182608011), (64.662380408, 27.213537292), (64.765671153, 27.24027981), (64.878203937, 27.255289493), (64.956190084, 27.257518307), (64.996431217, 27.258668383)],
                knots=[0, 0, 0, 0, 0.499235662, 0.993088571, 1.499764024, 2.038648963, 2.627199393, 3.26090627, 3.972869564, 4.743339079, 6.398430268, 8.142453682, 10.009492202, 12, 12, 12, 12], degree=3))
        make_face()
        with BuildLine():
            Line((67.051559423, 25.733027357), (66.243867115, 25.733027357))
            add(Edge.make_bspline(
                [(66.243867115, 25.733027357), (66.28260692, 25.772843106), (66.360174226, 25.852564736), (66.468966307, 25.97888666), (66.572347001, 26.109648304), (66.67019798, 26.244993717), (66.76091061, 26.385954161), (66.846362199, 26.531412433), (66.924350458, 26.682284456), (66.997421295, 26.836864373), (67.0632652, 26.994582281), (67.120200869, 27.154651777), (67.167701253, 27.316032688), (67.207224728, 27.478605836), (67.238213655, 27.642389926), (67.259589839, 27.807443651), (67.273735474, 27.973564747), (67.275188403, 28.084794525), (67.275918397, 28.140679601)],
                knots=[0, 0, 0, 0, 0.992342649, 1.98693169, 2.976855543, 3.969988518, 4.969517551, 5.970693636, 6.982945216, 8.002815687, 9.02486352, 10.035184142, 11.036656235, 12.029148216, 13.02335152, 14.013108037, 15.001727688, 16, 16, 16, 16], degree=3))
            add(Edge.make_bspline(
                [(67.275918397, 28.140679601), (67.275184901, 28.192343133), (67.27372325, 28.295294032), (67.263801037, 28.44878426), (67.246973124, 28.600860245), (67.222920671, 28.751444462), (67.193020341, 28.901036666), (67.155654129, 29.048791927), (67.112174699, 29.195317294), (67.061617766, 29.339705541), (67.006070574, 29.481699791), (66.944044099, 29.619275823), (66.87721261, 29.752732906), (66.806301921, 29.882246985), (66.729139051, 30.006769884), (66.648009526, 30.127575587), (66.561360678, 30.244023811), (66.499211501, 30.317960149), (66.468226089, 30.354822229)],
                knots=[0, 0, 0, 0, 1.030615892, 2.053727828, 3.066966151, 4.081801417, 5.094889563, 6.109178507, 7.121085909, 8.142879786, 9.160153843, 10.161827701, 11.152208124, 12.13713053, 13.106268419, 14.073498001, 15.03951329, 16, 16, 16, 16], degree=3))
            Line((66.468226089, 30.354822229), (67.186174807, 30.354822229))
            add(Edge.make_bspline(
                [(67.186174807, 30.354822229), (67.216874753, 30.319332363), (67.278313081, 30.248308195), (67.365007427, 30.136608354), (67.444835657, 30.019171184), (67.522194874, 29.898457723), (67.593126071, 29.772205249), (67.660248359, 29.641773165), (67.720879773, 29.505913751), (67.777568925, 29.366424056), (67.828739811, 29.223868209), (67.873051444, 29.079290549), (67.909800157, 28.933390224), (67.941592089, 28.786255648), (67.963633891, 28.637172897), (67.98205547, 28.48695015), (67.991590785, 28.33524909), (67.993106473, 28.233705926), (67.993867115, 28.182746909)],
                knots=[0, 0, 0, 0, 0.951172047, 1.903534998, 2.864157892, 3.828872604, 4.809039982, 5.798517374, 6.801478967, 7.823757442, 8.850242752, 9.870807247, 10.887714424, 11.899576751, 12.920723883, 13.941464303, 14.966932353, 16, 16, 16, 16], degree=3))
            add(Edge.make_bspline(
                [(67.993867115, 28.182746909), (67.993320557, 28.127802038), (67.992230776, 28.018247462), (67.979500696, 27.854750164), (67.960602263, 27.692433158), (67.935061158, 27.530830321), (67.900126876, 27.370310002), (67.859101093, 27.210379802), (67.809895139, 27.051761284), (67.752895083, 26.894698646), (67.689344878, 26.739587526), (67.619078904, 26.586642874), (67.541299534, 26.437089331), (67.456857335, 26.29034603), (67.366560774, 26.146022013), (67.26796876, 26.005539052), (67.163825129, 25.866798877), (67.089134493, 25.777800373), (67.051559423, 25.733027357)],
                knots=[0, 0, 0, 0, 0.983526716, 1.961053866, 2.934201006, 3.908957034, 4.888845537, 5.874284043, 6.864251573, 7.860925746, 8.864846135, 9.864607242, 10.873329523, 11.881739335, 12.895214845, 13.920156785, 14.953680705, 16, 16, 16, 16], degree=3))
        make_face()
    extrude(amount=-CUT_EXTRUDE7_DEPTH, mode=Mode.SUBTRACT)


solid = part.part
